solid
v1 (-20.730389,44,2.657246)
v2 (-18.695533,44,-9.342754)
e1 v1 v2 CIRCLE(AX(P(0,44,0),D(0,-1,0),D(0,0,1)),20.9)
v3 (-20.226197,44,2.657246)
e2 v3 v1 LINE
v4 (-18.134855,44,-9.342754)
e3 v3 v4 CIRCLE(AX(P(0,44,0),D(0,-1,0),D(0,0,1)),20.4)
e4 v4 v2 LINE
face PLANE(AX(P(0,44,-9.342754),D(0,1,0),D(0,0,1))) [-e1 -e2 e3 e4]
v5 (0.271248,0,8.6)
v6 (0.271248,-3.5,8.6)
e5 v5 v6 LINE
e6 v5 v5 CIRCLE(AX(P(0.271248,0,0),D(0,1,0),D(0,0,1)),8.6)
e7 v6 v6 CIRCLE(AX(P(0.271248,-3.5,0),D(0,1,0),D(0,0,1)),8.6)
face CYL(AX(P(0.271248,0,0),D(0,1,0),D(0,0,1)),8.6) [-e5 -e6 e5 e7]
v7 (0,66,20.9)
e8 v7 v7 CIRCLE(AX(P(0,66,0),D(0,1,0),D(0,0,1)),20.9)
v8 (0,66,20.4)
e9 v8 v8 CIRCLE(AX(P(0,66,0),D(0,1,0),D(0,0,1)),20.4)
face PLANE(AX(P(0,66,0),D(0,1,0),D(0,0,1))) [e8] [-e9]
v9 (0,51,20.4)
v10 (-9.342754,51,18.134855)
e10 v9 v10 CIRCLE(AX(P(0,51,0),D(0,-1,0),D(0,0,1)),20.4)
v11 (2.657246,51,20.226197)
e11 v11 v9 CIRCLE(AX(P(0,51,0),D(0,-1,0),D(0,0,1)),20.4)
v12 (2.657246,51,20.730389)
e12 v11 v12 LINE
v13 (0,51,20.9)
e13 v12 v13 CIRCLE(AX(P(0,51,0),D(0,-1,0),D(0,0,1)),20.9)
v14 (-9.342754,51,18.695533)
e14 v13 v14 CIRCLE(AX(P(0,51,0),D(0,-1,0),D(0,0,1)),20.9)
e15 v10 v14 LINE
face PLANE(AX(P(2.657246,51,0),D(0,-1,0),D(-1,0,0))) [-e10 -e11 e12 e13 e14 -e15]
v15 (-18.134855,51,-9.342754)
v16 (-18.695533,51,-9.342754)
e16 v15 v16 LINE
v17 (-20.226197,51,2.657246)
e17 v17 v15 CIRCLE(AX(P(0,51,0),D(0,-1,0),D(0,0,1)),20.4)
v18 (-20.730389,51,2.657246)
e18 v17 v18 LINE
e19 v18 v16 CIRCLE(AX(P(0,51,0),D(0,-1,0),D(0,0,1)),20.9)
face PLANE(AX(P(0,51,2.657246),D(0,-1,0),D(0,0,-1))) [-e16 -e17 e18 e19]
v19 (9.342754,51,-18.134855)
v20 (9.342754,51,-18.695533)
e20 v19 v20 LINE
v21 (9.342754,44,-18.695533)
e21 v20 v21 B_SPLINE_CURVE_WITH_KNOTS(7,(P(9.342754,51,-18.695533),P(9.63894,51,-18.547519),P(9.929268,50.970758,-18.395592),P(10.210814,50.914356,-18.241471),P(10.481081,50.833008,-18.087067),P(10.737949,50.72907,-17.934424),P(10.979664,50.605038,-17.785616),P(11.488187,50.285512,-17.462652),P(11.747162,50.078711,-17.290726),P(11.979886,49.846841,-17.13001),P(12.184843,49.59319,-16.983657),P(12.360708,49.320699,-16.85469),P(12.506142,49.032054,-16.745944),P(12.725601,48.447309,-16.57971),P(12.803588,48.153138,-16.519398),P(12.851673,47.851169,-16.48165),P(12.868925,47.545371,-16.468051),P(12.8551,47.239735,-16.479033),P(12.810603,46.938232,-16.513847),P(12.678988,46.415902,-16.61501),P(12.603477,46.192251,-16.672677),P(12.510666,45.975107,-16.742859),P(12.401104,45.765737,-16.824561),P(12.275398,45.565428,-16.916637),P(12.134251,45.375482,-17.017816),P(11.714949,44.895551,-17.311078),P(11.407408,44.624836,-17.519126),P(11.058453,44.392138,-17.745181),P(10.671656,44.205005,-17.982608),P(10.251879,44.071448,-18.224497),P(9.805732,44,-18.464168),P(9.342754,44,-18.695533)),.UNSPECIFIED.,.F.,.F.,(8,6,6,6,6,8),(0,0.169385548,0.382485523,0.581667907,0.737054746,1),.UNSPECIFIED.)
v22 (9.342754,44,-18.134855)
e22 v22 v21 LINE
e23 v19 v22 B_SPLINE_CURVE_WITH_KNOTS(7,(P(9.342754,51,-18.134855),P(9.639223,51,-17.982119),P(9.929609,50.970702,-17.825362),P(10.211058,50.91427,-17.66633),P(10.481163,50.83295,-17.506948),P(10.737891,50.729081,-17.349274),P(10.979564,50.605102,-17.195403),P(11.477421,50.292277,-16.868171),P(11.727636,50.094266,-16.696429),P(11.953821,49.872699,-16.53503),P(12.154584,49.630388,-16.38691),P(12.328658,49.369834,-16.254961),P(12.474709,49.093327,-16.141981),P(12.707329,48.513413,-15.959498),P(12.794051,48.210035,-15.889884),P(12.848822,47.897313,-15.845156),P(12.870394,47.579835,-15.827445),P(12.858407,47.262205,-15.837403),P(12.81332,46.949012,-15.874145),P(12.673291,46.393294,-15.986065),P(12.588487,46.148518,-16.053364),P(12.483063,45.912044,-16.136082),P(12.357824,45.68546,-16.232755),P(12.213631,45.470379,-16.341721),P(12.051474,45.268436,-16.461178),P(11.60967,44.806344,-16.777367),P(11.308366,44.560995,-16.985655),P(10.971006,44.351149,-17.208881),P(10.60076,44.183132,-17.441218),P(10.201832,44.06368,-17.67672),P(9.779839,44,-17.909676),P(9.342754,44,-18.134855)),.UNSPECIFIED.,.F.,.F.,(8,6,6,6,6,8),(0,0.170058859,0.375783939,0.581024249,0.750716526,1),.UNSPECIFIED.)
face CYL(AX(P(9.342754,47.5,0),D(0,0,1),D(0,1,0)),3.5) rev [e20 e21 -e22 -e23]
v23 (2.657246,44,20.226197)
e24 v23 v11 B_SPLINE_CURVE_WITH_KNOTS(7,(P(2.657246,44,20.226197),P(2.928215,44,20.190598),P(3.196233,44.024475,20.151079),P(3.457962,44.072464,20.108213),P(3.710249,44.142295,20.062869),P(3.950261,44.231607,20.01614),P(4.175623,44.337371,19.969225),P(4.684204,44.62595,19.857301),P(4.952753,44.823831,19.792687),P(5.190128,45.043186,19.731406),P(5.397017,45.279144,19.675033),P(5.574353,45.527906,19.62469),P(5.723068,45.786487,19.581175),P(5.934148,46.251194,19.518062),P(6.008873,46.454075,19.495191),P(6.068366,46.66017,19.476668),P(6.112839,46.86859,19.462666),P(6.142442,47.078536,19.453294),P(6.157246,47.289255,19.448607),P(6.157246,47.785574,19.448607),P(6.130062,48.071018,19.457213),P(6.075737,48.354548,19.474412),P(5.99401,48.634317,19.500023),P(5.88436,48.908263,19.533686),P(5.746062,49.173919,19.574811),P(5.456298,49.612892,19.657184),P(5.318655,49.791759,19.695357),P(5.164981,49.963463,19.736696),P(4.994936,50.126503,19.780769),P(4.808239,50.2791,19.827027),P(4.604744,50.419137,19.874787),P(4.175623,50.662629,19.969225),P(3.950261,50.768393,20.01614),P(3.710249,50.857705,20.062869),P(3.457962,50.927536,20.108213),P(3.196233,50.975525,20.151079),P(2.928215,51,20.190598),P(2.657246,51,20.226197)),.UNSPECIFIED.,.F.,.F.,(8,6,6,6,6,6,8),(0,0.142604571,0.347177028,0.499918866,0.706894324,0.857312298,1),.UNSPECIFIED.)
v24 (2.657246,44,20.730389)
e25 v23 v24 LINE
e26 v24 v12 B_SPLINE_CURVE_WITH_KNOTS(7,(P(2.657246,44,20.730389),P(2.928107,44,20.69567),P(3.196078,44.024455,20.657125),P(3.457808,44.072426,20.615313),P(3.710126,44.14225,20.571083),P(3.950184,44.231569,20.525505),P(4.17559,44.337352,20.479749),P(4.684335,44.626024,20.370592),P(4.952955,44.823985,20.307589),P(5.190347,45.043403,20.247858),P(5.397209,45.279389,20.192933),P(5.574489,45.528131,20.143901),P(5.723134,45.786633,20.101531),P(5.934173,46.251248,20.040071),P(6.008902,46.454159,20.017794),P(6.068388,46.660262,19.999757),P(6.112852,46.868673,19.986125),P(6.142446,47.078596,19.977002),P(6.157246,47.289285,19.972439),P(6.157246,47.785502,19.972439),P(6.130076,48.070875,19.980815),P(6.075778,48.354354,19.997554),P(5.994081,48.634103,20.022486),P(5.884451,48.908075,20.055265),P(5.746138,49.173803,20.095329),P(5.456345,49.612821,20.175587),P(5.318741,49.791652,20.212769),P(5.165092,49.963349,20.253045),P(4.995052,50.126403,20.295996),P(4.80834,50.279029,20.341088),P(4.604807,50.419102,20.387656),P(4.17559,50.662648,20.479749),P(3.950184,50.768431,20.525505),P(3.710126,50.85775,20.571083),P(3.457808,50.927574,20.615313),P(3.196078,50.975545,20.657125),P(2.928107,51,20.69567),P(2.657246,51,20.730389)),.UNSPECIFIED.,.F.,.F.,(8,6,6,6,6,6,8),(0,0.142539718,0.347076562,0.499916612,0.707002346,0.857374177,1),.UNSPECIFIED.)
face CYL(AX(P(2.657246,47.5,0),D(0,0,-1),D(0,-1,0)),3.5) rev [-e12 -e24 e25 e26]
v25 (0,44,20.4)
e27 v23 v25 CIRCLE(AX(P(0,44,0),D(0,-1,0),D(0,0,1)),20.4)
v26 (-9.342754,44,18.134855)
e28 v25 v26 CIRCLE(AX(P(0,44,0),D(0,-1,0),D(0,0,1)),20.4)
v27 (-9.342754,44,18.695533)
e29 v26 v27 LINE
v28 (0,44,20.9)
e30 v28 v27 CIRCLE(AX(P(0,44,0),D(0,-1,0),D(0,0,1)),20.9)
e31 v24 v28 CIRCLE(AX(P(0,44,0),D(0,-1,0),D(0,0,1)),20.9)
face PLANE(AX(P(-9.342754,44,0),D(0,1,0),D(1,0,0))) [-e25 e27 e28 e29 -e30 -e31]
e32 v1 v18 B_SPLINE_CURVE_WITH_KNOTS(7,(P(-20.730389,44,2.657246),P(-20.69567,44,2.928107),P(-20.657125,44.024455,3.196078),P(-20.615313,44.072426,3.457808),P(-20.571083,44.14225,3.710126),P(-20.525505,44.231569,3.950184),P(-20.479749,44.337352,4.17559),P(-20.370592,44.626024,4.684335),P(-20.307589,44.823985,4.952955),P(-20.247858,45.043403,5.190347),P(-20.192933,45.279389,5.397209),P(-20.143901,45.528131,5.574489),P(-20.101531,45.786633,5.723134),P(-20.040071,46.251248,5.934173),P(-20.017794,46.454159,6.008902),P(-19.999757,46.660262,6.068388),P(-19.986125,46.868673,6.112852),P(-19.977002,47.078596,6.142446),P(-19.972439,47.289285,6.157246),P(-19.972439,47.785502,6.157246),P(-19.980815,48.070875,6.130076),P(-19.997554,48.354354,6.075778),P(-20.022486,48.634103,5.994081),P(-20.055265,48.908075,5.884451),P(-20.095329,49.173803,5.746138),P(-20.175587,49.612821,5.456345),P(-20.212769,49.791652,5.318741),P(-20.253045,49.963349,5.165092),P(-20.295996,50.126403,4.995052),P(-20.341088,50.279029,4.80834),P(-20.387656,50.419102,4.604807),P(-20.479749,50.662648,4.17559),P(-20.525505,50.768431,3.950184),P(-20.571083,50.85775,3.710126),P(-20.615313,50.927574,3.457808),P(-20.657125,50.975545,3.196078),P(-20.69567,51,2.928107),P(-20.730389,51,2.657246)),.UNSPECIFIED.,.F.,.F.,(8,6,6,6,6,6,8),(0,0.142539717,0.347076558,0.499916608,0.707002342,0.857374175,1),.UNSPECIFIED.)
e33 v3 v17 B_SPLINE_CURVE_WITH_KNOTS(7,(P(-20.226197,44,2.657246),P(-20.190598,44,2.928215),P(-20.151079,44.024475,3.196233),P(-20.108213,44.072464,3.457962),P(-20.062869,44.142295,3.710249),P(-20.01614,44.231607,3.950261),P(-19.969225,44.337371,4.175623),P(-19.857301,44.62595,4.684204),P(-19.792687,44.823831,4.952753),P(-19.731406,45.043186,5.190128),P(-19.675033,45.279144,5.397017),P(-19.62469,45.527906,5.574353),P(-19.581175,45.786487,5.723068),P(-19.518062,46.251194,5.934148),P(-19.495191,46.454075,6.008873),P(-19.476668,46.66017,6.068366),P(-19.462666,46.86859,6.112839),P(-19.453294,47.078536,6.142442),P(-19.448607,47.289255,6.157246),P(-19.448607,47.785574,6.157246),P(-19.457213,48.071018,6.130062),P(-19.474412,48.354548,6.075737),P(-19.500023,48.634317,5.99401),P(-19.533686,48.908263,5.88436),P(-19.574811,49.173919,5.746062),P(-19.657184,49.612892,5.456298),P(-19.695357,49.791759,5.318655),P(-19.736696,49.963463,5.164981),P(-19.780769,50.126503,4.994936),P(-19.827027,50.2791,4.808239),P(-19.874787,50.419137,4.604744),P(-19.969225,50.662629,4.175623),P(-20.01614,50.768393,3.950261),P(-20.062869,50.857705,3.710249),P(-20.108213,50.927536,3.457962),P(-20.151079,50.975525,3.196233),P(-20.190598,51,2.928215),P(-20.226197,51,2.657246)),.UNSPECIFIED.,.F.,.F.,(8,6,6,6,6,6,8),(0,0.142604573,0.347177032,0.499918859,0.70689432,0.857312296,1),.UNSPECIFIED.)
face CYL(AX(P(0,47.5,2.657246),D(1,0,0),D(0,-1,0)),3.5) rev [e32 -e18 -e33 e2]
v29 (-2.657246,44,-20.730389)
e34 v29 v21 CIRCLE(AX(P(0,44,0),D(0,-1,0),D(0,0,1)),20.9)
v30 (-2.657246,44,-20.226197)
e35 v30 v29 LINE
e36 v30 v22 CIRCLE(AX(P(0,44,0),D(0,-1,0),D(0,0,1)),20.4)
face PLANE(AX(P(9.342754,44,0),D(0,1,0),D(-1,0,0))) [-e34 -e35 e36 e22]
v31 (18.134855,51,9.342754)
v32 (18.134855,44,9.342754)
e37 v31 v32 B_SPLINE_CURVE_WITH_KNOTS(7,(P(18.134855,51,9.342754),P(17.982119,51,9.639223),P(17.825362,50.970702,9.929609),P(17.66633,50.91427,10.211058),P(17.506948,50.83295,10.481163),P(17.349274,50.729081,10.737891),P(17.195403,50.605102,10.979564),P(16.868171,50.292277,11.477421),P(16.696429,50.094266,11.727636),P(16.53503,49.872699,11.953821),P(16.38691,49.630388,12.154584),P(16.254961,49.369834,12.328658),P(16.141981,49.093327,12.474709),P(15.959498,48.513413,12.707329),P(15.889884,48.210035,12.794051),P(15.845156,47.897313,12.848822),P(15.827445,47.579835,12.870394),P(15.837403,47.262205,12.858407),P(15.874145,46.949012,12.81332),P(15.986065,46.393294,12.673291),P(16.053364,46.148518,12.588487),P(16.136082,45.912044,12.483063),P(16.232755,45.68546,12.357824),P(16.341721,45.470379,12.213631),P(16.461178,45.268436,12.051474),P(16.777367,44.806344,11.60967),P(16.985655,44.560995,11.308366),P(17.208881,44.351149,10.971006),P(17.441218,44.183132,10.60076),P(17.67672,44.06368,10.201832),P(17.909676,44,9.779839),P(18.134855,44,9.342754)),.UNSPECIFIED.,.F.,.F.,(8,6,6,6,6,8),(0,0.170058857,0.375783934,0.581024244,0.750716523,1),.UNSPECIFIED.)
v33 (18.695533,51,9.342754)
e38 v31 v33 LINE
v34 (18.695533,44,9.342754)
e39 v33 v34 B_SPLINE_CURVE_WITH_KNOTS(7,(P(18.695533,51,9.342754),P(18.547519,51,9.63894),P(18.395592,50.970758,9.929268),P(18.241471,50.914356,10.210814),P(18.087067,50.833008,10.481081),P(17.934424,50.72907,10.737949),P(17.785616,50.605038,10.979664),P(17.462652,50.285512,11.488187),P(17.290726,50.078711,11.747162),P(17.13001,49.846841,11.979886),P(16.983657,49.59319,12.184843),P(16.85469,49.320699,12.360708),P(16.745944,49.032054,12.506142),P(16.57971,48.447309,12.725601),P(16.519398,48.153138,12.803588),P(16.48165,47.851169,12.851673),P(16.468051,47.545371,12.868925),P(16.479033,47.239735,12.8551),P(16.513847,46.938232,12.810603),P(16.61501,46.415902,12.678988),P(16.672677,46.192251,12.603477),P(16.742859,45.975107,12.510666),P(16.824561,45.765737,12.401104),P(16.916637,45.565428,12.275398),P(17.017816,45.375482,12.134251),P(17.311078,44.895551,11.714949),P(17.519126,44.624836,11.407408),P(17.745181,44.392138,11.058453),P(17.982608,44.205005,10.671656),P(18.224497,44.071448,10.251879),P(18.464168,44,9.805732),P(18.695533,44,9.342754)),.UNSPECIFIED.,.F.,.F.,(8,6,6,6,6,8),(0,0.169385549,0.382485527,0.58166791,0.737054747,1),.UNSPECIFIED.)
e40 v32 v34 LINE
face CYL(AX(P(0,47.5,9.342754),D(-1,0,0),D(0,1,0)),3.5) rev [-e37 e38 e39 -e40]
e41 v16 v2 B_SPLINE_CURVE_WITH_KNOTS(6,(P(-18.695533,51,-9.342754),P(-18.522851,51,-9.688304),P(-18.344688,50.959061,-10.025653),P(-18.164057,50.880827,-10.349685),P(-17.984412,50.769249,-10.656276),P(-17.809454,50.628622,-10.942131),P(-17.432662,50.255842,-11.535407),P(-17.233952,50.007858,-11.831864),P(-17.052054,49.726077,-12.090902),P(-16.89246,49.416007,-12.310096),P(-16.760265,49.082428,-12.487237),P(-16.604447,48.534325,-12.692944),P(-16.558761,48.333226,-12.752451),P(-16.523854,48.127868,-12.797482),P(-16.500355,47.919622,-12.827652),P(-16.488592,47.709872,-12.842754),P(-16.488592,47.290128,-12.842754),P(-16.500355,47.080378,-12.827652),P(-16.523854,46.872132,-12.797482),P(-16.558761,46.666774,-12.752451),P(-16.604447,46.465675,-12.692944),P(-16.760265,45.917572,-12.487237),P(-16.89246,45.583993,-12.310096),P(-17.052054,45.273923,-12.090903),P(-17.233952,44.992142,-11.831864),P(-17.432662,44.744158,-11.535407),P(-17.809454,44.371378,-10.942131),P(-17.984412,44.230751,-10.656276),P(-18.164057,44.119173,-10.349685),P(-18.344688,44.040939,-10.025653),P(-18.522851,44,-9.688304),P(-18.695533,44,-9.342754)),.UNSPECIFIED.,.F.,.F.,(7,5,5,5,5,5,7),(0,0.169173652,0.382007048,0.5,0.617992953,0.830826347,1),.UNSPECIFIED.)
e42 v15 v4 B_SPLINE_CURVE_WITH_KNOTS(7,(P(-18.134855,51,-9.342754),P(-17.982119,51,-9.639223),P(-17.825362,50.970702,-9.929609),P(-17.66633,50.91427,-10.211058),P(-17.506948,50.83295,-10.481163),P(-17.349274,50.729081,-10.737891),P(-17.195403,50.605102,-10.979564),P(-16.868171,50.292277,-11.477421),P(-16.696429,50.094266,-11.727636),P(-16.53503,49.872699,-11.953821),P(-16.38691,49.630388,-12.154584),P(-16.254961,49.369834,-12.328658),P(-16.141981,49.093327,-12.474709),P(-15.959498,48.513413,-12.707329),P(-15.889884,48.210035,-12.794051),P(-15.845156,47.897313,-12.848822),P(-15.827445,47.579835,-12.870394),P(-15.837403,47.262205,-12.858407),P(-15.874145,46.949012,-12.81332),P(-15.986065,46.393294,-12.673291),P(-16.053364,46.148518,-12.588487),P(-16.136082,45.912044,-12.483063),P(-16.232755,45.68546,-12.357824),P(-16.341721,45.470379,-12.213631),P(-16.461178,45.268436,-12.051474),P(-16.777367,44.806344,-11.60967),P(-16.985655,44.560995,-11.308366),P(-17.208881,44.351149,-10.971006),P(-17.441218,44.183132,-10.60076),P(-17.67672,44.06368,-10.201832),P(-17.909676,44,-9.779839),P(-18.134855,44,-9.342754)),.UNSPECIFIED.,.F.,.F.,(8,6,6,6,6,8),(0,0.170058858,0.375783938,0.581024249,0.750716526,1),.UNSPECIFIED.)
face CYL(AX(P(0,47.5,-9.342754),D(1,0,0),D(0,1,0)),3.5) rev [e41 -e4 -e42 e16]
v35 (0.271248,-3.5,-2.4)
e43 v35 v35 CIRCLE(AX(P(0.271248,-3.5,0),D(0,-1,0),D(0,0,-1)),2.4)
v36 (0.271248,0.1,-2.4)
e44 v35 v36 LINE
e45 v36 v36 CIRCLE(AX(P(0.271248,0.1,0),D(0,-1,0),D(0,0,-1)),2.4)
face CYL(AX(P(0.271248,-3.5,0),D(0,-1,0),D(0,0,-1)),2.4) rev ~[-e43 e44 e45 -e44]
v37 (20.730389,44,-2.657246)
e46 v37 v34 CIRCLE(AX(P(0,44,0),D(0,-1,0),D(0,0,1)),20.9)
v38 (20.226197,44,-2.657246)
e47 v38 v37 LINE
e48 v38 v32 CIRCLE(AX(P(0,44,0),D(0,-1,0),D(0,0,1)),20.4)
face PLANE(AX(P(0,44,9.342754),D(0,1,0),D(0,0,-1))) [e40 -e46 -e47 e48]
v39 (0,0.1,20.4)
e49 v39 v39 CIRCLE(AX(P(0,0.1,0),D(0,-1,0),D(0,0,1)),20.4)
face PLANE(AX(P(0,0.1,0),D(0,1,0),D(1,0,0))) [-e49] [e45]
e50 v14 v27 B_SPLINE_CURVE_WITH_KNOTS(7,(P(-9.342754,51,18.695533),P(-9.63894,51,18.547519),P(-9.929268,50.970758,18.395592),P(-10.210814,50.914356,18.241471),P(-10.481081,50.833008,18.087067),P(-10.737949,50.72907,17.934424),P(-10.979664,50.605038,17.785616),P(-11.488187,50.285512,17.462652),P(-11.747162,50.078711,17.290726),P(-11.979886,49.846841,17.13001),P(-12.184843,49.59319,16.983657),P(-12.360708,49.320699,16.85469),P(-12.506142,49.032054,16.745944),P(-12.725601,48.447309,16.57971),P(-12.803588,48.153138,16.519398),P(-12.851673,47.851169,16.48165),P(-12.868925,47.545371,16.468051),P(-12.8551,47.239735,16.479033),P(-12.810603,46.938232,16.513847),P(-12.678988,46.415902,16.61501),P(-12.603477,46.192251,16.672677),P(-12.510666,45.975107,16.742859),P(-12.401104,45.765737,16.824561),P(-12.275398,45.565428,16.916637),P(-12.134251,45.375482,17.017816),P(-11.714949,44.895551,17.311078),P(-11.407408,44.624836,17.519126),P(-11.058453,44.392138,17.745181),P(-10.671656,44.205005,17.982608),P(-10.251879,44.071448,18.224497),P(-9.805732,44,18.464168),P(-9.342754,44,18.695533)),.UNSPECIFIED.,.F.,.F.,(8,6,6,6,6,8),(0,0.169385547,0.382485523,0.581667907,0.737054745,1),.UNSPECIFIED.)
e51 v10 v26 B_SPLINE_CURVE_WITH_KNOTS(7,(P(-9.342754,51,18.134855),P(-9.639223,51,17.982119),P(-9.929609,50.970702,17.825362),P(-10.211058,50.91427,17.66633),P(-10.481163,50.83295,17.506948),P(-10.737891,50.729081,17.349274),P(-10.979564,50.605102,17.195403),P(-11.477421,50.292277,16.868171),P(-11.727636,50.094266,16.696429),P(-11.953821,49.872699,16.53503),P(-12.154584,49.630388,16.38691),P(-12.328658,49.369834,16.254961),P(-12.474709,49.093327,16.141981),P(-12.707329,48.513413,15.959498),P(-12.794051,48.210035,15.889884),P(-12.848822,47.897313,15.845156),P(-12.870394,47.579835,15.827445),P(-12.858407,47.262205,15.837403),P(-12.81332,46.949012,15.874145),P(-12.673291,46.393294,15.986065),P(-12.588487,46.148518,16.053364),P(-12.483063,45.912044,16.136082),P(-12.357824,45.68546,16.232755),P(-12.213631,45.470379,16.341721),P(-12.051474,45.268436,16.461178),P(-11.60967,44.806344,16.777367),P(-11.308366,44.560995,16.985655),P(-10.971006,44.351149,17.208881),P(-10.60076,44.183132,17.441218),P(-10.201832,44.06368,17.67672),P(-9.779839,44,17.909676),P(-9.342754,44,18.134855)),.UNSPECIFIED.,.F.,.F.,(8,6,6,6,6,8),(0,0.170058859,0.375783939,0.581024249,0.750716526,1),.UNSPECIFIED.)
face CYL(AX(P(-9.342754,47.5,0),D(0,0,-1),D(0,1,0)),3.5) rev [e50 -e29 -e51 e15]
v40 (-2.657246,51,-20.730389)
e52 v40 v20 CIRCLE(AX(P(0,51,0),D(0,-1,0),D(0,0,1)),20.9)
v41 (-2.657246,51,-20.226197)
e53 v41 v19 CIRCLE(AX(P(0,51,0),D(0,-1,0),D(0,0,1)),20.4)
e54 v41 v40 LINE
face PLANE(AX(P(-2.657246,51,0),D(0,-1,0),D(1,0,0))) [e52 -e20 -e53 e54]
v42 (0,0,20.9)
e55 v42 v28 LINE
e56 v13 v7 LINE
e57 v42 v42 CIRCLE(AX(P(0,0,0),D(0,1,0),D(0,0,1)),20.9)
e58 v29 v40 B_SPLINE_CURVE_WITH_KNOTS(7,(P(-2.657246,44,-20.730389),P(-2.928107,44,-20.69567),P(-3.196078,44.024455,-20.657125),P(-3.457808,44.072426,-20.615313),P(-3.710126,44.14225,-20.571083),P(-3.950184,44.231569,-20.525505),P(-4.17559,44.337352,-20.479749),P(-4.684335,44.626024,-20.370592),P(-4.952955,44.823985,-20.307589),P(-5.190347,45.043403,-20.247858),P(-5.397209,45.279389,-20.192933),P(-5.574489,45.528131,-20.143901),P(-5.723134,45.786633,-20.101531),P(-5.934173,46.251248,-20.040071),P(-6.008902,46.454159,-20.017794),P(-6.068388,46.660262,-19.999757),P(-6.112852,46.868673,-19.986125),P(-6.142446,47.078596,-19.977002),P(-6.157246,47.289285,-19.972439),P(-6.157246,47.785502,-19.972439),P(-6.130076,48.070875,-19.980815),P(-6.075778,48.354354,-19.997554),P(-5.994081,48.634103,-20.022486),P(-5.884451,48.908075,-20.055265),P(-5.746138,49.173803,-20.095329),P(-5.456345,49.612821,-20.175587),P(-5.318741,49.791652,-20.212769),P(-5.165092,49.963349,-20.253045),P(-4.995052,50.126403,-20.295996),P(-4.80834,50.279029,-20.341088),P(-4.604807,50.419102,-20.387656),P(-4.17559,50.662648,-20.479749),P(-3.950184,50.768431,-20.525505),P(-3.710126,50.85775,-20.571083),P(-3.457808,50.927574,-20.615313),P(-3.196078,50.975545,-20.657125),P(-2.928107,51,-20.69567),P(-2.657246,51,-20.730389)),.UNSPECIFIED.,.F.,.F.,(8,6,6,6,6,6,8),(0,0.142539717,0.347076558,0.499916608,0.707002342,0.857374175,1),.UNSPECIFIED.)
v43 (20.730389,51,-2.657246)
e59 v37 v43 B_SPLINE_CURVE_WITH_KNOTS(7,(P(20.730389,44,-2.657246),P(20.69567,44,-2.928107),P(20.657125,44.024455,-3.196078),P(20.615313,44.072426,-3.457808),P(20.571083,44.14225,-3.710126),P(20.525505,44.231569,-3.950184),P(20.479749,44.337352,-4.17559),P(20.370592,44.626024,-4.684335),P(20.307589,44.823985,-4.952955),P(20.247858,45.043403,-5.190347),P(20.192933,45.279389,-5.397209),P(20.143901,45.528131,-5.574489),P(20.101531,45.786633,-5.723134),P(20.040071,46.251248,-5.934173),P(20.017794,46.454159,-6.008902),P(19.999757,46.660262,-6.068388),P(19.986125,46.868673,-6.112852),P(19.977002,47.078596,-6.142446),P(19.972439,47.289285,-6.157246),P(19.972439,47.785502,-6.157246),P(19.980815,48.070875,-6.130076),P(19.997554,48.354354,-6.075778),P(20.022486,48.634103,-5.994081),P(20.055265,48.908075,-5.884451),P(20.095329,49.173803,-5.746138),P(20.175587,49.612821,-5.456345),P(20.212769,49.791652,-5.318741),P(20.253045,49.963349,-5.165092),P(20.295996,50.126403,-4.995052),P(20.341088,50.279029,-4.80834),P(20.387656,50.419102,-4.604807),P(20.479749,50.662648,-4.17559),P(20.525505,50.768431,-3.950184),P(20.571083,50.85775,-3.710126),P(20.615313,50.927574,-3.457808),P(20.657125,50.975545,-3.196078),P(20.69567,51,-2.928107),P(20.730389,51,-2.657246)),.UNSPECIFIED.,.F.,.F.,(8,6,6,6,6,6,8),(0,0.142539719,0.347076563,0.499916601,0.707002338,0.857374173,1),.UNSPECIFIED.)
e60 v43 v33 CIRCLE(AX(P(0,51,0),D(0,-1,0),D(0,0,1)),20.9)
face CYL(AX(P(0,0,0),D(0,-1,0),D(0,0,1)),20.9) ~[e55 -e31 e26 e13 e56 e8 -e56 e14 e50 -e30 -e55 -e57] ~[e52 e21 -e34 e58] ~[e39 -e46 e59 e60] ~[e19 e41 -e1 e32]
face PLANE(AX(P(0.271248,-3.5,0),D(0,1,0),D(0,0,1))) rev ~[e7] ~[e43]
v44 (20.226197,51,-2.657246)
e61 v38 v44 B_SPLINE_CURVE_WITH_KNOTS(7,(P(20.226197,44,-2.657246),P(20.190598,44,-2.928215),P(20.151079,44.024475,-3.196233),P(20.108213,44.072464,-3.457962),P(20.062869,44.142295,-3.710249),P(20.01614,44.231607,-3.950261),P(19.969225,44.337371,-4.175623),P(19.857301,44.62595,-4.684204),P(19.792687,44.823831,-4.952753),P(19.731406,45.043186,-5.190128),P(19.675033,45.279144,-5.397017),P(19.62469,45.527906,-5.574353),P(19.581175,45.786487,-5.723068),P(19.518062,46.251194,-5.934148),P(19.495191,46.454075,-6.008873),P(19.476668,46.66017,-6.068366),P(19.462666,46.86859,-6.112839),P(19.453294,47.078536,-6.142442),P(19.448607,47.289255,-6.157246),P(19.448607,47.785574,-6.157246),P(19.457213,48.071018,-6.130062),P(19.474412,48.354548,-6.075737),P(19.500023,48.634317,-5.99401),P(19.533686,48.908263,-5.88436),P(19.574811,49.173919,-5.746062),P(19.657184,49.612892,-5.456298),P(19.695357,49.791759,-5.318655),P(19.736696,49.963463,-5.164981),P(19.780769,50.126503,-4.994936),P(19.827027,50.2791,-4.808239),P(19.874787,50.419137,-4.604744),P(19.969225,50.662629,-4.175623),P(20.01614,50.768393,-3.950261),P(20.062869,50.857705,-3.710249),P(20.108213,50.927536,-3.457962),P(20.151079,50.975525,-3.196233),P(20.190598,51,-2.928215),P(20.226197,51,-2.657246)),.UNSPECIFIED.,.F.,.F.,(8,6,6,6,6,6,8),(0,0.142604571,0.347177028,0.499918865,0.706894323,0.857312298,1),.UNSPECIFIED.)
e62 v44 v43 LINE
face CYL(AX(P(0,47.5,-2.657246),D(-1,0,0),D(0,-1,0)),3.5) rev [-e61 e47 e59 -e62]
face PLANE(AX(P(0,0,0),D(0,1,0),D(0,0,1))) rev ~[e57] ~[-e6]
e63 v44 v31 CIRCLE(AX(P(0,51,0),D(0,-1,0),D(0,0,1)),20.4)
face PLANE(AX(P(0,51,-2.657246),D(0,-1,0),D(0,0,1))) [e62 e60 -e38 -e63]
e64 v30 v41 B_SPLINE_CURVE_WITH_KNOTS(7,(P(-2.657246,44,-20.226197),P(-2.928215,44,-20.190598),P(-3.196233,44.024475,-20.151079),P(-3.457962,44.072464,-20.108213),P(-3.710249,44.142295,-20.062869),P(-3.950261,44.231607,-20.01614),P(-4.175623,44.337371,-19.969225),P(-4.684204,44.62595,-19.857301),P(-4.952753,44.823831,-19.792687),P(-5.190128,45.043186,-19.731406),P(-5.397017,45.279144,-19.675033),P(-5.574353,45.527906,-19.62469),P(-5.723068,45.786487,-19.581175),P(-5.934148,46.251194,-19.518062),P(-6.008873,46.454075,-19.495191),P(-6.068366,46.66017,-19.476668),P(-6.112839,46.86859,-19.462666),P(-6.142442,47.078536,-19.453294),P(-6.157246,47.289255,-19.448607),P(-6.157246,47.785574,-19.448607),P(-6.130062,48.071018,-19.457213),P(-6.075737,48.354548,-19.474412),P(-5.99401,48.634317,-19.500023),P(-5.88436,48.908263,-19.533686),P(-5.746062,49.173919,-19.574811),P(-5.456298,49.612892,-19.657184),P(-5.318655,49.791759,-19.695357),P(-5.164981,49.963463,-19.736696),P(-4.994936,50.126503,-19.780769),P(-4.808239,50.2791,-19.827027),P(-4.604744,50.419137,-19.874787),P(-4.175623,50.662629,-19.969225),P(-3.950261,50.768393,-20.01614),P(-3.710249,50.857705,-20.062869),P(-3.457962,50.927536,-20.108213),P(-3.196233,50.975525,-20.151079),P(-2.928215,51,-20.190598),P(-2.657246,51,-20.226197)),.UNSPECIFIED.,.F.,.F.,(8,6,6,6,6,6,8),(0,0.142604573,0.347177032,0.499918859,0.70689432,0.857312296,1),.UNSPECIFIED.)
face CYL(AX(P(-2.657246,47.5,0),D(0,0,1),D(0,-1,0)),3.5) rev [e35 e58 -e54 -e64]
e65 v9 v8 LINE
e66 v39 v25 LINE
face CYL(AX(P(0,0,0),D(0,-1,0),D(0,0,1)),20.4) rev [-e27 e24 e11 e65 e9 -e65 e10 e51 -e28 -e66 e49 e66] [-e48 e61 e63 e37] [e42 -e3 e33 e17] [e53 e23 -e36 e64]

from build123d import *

# Parameters (mm, degrees)
SKETCH2_R           = 20.9
SKETCH2_R_2         = 20.4
BOSS_EXTRUDE1_DEPTH = 66
SKETCH3_R           = 20.848686735
BOSS_EXTRUDE2_DEPTH = 0.1
SKETCH4_R           = 8.6
BOSS_EXTRUDE3_DEPTH = 3.5
SKETCH5_R           = 2.4
BOSS_EXTRUDE4_DEPTH = 1.35
SKETCH7_R           = 2.4
CUT_EXTRUDE1_DEPTH  = 76.523969705
CUT_EXTRUDE6_DEPTH  = 73.316111621
CIRPATTERN2_COUNT   = 4


with BuildPart() as part:
    # Sketch2 → Boss-Extrude1 (new body)
    with BuildSketch(Plane(origin=(0, 0, 0), x_dir=(1, 0, 0), z_dir=(0, 1, 0))):
        with Locations(Location((0, 0, 0), (0, 0, 270))):
            Circle(SKETCH2_R)
        with Locations(Location((0, 0, 0), (0, 0, 270))):
            Circle(SKETCH2_R_2, mode=Mode.SUBTRACT)
    extrude(amount=BOSS_EXTRUDE1_DEPTH)

    # Sketch3 → Boss-Extrude2 (add)
    with BuildSketch(Plane(origin=(0, 0, 0), x_dir=(1, 0, 0), z_dir=(0, 1, 0))):
        Circle(SKETCH3_R)
    extrude(amount=BOSS_EXTRUDE2_DEPTH)

    # Sketch4 → Boss-Extrude3 (add)
    with BuildSketch(Plane(origin=(0, 0, 0), x_dir=(1, 0, 0), z_dir=(0, 1, 0))):
        with Locations(Location((0.271248052, 0, 0), (0, 0, 270))):
            Circle(SKETCH4_R)
    extrude(amount=-BOSS_EXTRUDE3_DEPTH)

    # Sketch5 → Boss-Extrude4 (add)
    with BuildSketch(Plane.XZ.offset(3.5)):
        with Locations((0.36166407, 0)):
            Circle(SKETCH5_R)
    extrude(amount=-BOSS_EXTRUDE4_DEPTH)

    # Sketch7 → Cut-Extrude1 (cut, through all)
    with BuildSketch(Plane.XZ.offset(3.5)):
        with Locations(Location((0.271248052, 0, 0), (0, 0, 270))):
            Circle(SKETCH7_R)
    extrude(amount=-CUT_EXTRUDE1_DEPTH, mode=Mode.SUBTRACT)

    # Sketch15 → Cut-Extrude6 (cut, through all)
    with BuildSketch(Plane(origin=(0, 0, 0), x_dir=(0, 0, -1), z_dir=(1, 0, 0))):
        with BuildLine():
            Line((-2.657246102, 51), (9.342753898, 51))
            ThreePointArc((9.342753898, 51), (12.842753898, 47.5), (9.342753898, 44))
            Line((9.342753898, 44), (-2.657246102, 44))
            ThreePointArc((-2.657246102, 44), (-6.157246102, 47.5), (-2.657246102, 51))
        make_face()
    cut_extrude6 = extrude(amount=-CUT_EXTRUDE6_DEPTH, mode=Mode.SUBTRACT)

    # CirPattern2: Cut-Extrude6 ×4 about axis
    cirpattern2_axis = Axis((0, 66, 0), (0, -1, 0))
    for i in range(1, CIRPATTERN2_COUNT):
        add(cut_extrude6.rotate(cirpattern2_axis, i * 360 / CIRPATTERN2_COUNT), mode=Mode.SUBTRACT)


solid = part.part
